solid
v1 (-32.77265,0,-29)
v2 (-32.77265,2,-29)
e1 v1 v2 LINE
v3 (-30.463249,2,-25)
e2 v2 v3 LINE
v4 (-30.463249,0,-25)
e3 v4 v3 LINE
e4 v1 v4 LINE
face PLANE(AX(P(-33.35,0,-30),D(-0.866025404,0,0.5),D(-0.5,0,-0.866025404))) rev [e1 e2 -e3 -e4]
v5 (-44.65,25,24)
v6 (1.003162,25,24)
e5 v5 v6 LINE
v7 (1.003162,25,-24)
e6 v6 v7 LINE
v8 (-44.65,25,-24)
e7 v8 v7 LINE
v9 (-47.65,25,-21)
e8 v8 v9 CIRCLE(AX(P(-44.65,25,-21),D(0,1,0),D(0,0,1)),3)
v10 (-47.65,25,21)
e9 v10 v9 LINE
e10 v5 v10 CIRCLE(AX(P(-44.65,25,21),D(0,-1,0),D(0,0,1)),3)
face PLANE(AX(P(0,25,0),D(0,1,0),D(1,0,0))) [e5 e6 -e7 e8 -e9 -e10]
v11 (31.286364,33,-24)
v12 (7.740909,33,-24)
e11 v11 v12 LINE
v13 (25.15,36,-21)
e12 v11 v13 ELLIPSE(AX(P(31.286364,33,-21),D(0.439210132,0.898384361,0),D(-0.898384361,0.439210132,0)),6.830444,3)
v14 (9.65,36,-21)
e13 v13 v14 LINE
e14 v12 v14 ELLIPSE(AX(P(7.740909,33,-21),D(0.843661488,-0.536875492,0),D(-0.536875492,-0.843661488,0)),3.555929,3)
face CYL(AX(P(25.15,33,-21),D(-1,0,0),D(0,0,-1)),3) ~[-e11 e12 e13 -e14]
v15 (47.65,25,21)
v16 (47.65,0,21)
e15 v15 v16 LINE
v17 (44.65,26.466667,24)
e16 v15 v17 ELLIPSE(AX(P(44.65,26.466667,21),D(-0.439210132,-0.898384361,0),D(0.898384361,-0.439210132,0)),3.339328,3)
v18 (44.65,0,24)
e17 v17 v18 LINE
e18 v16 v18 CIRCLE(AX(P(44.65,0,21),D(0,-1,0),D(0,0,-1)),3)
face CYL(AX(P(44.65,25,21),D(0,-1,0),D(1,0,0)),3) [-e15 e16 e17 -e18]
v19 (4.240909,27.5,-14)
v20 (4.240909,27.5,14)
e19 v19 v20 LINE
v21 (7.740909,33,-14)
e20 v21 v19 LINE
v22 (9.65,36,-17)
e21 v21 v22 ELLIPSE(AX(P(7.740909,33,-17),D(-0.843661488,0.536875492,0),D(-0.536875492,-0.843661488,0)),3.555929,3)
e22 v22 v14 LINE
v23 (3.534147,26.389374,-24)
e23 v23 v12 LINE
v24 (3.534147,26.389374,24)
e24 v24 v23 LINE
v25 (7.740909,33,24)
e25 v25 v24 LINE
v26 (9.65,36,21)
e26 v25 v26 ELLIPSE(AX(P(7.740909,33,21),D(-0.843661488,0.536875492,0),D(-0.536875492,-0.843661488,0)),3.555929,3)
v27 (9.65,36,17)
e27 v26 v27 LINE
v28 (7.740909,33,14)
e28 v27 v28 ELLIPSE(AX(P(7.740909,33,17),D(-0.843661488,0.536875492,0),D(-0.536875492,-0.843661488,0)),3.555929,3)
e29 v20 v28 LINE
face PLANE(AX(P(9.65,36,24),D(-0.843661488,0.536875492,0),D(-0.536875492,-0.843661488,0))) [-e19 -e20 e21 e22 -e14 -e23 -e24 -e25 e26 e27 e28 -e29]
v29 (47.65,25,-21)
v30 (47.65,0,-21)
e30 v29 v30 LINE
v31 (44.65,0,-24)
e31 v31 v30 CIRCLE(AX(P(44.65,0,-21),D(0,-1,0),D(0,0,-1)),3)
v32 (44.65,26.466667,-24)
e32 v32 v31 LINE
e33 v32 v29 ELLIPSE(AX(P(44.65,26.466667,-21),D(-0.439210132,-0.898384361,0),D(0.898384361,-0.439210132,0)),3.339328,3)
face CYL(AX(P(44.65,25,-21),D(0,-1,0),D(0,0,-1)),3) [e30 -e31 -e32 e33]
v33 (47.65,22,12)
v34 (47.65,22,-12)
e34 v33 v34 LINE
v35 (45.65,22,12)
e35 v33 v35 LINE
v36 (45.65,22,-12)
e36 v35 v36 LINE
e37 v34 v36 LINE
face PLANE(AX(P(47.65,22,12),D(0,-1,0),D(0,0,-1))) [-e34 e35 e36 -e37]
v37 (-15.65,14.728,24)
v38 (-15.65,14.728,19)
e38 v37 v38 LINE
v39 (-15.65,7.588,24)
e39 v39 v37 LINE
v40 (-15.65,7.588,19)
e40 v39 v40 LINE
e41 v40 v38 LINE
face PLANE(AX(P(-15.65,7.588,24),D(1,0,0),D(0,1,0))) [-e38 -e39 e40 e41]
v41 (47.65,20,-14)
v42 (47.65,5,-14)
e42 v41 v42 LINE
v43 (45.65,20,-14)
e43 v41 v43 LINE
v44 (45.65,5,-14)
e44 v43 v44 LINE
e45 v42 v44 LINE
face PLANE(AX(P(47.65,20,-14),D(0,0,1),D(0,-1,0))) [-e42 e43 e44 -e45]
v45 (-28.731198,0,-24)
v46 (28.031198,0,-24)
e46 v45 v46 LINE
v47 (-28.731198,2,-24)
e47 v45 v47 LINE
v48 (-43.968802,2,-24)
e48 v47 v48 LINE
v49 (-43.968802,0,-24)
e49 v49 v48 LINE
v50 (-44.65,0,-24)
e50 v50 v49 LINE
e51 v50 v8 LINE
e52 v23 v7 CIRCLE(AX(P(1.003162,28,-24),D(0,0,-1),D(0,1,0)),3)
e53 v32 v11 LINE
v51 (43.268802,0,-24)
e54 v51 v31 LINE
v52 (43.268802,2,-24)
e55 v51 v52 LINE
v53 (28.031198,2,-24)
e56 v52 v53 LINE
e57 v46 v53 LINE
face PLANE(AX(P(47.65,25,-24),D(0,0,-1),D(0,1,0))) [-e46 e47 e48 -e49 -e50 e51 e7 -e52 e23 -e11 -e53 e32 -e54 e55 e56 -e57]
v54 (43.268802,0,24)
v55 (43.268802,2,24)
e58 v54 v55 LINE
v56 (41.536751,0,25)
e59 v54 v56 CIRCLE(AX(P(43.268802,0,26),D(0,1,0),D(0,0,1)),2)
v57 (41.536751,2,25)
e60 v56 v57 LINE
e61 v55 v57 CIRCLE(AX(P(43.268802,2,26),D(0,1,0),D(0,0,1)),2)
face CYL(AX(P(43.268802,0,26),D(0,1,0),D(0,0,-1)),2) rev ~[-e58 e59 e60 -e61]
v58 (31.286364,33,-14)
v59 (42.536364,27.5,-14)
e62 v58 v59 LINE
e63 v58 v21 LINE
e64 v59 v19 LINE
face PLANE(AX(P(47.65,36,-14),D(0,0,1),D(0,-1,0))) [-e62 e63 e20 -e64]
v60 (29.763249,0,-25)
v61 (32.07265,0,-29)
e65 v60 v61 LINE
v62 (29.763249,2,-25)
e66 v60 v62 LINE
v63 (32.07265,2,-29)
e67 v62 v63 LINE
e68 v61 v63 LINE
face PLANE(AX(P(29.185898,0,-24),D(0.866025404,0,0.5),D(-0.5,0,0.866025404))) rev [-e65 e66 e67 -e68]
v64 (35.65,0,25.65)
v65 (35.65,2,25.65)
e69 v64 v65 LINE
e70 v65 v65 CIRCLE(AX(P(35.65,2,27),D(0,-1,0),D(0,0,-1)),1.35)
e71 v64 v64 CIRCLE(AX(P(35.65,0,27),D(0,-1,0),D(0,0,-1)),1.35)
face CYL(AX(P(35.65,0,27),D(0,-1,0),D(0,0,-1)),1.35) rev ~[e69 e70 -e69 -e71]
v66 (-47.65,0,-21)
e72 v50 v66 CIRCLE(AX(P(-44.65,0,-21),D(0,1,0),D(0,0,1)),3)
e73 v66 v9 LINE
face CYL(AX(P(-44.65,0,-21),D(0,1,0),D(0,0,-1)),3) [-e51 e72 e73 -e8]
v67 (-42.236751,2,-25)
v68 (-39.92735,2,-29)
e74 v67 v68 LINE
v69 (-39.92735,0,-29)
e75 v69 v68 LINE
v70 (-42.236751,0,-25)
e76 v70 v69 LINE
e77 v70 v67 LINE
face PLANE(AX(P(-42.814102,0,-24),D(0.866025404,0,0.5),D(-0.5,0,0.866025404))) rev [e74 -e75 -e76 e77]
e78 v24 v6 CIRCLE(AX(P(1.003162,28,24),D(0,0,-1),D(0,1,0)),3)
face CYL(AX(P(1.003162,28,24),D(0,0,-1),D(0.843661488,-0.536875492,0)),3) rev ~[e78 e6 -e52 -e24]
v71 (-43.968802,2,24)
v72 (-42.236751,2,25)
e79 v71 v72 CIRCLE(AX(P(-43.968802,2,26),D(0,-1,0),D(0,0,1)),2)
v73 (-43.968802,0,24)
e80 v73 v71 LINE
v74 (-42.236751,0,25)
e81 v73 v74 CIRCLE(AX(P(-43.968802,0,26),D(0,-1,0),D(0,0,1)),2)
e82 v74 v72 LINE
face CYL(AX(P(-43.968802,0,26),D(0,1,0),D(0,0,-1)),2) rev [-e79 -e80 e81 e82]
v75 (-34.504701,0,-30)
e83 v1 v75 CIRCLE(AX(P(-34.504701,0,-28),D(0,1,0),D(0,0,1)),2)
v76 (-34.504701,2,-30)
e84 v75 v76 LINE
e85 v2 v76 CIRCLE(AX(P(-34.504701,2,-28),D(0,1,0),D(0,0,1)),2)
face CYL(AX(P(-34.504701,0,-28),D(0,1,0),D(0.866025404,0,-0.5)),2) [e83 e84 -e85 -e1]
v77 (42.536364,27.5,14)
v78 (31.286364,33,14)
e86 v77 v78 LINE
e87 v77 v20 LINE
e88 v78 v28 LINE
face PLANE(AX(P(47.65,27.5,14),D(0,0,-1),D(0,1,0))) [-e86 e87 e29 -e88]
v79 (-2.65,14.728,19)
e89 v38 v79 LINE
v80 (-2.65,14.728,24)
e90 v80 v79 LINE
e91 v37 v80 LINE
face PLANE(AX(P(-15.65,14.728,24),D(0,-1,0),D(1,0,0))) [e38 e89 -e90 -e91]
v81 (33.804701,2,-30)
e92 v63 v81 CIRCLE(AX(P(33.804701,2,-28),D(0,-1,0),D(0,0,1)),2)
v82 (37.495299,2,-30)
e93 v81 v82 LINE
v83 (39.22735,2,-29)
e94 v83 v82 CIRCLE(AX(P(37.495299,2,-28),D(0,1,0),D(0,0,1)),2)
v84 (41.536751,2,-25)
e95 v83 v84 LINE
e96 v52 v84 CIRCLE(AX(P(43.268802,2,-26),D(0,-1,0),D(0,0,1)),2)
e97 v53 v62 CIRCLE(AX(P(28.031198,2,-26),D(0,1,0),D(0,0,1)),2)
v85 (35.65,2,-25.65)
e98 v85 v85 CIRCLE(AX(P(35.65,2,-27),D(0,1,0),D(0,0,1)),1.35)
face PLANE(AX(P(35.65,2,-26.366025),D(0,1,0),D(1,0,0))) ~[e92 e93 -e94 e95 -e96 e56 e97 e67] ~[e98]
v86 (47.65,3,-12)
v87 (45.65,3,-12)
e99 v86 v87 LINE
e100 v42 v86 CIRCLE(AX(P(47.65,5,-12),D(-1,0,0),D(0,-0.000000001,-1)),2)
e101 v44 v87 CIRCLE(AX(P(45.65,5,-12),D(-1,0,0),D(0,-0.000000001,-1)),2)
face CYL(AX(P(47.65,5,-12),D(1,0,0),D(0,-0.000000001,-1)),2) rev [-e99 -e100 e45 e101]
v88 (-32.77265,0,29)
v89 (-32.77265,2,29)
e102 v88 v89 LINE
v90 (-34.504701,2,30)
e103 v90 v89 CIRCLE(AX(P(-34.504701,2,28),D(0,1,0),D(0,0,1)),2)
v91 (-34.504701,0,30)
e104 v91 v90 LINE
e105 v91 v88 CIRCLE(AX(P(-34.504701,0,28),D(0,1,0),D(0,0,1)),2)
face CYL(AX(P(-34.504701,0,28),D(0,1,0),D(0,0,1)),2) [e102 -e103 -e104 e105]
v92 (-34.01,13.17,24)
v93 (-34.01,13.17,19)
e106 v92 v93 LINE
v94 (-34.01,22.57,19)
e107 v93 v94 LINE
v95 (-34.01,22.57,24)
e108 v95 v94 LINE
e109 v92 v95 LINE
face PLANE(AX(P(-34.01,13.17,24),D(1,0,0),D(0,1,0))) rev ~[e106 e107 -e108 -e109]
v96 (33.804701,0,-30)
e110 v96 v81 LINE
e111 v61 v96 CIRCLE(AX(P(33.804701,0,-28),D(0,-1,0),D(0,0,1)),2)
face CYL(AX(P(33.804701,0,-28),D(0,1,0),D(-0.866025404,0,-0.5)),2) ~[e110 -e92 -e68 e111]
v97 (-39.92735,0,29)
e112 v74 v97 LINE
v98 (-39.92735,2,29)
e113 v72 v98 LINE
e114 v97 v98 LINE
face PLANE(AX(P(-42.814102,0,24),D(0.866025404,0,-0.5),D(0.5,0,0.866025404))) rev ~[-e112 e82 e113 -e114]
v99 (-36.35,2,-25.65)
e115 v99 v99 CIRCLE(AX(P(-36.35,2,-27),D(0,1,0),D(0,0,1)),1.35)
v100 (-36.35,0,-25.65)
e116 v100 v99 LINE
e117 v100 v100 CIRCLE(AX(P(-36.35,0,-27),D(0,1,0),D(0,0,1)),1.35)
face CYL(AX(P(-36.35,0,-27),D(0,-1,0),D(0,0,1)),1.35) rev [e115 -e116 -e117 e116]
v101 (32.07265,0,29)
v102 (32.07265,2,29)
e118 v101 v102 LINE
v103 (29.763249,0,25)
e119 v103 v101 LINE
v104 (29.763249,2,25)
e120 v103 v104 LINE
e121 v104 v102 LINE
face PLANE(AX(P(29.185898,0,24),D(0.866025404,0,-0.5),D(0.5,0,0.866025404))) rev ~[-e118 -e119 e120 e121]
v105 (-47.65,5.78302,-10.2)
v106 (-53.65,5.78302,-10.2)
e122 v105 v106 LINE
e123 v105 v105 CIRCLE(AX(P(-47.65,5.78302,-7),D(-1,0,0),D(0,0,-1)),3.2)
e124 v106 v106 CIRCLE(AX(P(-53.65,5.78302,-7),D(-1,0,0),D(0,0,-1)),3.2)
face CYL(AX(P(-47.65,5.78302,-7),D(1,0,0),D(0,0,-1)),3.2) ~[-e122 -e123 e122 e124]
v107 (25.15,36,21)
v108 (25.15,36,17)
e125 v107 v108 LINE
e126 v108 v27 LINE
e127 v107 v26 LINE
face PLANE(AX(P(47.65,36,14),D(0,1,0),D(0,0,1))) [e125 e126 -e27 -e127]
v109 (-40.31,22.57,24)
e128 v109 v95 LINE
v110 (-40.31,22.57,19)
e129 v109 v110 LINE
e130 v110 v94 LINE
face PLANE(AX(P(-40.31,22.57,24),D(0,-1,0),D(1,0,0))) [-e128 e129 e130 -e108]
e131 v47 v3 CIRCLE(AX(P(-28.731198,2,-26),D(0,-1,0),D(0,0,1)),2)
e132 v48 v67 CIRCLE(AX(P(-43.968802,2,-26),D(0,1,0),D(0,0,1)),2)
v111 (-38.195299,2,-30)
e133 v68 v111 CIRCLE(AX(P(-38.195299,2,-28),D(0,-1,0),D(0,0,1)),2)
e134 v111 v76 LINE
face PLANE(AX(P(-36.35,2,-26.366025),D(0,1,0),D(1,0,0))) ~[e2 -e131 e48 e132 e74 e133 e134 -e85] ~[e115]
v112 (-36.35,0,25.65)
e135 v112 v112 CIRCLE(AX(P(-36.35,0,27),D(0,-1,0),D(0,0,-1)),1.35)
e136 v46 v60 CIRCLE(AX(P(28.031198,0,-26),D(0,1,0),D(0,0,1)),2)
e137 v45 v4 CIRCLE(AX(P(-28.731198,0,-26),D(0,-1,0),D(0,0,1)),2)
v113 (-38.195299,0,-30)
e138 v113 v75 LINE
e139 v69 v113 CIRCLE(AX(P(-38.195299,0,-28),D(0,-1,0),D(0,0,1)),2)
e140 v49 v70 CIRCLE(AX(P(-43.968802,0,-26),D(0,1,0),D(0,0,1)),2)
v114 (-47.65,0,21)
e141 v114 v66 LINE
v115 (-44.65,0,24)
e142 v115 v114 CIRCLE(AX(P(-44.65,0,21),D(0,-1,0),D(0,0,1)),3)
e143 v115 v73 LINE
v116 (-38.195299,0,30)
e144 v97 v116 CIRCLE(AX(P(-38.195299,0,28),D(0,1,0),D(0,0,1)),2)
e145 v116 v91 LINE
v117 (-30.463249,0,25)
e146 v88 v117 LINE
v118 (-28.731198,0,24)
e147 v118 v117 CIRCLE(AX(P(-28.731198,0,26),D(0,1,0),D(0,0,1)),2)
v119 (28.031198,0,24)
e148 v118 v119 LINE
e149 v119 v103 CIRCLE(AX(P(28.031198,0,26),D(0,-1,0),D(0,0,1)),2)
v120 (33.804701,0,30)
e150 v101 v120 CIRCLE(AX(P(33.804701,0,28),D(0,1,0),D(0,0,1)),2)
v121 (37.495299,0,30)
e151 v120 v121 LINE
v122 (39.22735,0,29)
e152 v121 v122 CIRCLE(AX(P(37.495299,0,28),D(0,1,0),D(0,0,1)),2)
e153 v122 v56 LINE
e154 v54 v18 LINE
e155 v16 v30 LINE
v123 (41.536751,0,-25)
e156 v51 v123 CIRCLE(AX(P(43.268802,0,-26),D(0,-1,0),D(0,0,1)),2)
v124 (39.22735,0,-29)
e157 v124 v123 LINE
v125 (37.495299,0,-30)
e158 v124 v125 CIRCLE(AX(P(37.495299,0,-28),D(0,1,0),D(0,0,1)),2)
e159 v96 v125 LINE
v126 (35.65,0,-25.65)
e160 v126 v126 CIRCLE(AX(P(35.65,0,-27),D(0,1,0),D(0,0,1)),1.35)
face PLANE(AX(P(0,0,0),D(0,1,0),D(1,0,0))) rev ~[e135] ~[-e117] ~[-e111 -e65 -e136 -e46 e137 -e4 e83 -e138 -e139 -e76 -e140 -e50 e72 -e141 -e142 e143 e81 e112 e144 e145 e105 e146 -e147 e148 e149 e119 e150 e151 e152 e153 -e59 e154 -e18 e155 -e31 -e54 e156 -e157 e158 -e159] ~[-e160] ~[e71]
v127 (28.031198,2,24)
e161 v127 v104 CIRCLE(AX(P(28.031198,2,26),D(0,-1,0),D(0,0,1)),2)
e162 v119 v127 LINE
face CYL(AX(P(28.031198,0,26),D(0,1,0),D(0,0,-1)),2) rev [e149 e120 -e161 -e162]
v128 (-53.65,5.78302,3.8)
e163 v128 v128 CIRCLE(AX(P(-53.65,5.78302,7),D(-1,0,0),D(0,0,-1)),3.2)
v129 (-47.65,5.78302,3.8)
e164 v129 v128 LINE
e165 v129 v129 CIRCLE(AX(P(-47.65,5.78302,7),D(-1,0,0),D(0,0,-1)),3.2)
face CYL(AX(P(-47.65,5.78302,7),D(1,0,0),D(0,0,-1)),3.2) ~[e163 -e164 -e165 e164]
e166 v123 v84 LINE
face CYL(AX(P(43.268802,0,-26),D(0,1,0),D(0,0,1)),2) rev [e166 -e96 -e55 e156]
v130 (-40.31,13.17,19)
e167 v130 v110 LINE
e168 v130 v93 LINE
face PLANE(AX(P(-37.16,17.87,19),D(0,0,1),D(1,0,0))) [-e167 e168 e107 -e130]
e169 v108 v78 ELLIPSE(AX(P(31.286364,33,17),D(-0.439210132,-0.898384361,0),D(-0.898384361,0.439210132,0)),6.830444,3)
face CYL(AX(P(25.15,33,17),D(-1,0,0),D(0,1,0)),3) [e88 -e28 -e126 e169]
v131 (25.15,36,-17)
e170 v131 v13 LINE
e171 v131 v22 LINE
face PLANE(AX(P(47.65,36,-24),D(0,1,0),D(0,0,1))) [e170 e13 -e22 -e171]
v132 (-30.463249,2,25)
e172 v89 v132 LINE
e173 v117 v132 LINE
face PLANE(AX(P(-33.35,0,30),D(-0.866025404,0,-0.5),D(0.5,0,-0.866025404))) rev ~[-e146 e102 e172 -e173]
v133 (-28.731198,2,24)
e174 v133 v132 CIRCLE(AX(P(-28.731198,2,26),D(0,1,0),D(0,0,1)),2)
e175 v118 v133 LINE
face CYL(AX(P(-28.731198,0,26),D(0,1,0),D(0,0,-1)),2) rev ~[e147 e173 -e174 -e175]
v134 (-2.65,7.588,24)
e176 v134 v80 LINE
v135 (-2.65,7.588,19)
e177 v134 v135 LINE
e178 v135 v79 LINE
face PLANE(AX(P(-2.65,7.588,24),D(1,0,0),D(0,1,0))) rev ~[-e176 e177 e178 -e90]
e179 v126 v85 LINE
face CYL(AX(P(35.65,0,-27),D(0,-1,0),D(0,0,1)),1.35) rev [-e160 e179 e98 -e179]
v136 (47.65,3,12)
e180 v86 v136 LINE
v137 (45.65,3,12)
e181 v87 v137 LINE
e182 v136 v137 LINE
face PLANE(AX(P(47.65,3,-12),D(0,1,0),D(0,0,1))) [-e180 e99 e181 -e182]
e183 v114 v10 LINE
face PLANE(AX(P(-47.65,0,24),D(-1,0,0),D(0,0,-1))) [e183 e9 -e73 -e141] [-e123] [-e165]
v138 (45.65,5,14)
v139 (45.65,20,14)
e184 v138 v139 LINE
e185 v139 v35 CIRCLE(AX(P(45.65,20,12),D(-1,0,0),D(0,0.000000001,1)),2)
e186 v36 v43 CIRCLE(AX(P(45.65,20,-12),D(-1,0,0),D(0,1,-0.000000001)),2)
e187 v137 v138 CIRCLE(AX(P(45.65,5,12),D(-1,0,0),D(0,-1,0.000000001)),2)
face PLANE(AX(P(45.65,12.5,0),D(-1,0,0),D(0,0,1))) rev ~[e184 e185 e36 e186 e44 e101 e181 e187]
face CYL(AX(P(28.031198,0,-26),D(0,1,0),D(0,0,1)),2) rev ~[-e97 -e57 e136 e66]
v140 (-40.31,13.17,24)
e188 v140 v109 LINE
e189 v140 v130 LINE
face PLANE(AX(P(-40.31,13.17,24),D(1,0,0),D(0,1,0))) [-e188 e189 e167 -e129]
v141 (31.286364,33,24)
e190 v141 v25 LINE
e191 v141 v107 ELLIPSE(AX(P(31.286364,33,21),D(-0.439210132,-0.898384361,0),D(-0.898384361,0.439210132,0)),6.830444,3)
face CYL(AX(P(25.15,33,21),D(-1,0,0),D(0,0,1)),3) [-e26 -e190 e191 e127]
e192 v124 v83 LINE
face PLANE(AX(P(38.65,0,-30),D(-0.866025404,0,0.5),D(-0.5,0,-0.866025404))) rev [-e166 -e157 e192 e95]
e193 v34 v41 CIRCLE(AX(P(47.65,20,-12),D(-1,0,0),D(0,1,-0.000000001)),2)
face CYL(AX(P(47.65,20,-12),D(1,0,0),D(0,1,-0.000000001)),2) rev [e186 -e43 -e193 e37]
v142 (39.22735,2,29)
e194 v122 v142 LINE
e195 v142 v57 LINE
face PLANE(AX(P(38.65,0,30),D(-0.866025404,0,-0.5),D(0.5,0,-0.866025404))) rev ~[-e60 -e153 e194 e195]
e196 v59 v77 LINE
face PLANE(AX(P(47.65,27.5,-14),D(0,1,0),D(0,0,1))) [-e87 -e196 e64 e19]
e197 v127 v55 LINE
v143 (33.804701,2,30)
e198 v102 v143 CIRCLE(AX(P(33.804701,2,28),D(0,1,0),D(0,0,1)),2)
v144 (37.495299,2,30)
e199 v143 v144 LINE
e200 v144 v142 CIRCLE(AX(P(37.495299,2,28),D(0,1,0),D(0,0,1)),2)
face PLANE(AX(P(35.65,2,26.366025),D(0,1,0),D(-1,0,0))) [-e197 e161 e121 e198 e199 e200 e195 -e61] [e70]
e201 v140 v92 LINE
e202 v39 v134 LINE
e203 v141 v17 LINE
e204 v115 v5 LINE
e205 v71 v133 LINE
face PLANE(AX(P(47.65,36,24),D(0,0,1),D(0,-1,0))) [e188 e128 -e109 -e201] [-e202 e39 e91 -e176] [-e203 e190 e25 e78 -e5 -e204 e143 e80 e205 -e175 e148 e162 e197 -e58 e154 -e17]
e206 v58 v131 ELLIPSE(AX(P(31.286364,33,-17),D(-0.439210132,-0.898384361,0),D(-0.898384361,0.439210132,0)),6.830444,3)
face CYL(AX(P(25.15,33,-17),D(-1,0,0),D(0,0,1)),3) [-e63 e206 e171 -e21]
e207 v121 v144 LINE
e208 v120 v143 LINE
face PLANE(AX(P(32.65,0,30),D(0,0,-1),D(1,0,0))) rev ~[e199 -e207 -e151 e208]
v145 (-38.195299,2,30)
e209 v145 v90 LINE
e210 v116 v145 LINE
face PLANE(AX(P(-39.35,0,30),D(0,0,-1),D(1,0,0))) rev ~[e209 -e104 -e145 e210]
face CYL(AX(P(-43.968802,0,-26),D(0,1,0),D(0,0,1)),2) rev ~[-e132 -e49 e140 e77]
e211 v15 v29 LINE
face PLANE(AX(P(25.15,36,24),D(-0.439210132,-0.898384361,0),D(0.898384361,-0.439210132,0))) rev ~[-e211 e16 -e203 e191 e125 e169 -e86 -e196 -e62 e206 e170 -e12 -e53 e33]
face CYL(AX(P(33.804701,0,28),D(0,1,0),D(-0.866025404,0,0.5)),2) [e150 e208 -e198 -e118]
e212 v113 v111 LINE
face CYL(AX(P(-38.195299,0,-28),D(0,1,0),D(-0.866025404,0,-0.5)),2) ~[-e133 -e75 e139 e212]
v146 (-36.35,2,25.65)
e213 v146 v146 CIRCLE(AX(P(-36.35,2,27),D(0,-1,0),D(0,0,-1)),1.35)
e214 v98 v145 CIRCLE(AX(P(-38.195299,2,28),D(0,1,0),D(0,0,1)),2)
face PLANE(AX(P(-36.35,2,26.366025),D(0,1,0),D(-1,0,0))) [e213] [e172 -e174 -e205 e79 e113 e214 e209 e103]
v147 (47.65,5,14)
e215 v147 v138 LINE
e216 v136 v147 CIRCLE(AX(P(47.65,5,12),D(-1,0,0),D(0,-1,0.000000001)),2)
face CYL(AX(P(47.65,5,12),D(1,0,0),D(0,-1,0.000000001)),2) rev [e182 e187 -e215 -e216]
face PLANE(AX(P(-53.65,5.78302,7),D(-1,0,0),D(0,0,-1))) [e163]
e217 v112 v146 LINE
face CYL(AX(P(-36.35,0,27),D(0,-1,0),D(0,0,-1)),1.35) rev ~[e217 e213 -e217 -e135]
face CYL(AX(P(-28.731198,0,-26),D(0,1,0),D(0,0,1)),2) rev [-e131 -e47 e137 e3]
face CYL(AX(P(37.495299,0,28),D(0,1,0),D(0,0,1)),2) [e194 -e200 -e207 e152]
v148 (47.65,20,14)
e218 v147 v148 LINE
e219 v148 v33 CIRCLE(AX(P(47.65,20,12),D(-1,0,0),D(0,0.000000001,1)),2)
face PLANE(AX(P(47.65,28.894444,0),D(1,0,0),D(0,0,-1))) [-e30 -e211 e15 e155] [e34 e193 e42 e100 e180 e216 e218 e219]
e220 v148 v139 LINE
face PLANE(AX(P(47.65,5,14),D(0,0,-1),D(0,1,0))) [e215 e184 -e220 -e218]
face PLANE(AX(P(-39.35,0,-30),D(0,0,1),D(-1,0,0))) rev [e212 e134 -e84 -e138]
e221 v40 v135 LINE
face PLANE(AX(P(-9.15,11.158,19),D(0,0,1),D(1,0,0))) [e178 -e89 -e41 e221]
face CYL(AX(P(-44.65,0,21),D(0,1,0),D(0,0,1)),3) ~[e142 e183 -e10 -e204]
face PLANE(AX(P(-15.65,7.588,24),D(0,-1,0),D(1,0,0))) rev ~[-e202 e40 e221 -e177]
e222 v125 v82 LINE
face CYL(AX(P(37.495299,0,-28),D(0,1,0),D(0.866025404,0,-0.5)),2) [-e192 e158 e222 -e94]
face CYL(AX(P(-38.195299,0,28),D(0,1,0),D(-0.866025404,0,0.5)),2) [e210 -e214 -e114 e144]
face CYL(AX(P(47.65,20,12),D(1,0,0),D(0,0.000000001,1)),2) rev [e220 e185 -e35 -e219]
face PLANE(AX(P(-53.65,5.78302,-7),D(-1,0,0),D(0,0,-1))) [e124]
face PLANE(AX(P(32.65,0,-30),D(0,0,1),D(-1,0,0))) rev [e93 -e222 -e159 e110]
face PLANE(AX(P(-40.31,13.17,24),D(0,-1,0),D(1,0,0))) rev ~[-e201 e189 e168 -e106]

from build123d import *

# Parameters (mm, degrees)
SKETCH_1_W          = 95.3
SKETCH_1_H          = 48
EXTRUDE_1_DEPTH     = 25
EXTRUDE_2_DEPTH     = 45
CUT_EXTRUDE_1_DEPTH = 77.619335027
CUT_EXTRUDE_2_DEPTH = 2
SKETCH_5_R          = 1.35
EXTRUDE_3_DEPTH     = 2
FILLET_1_R          = 2
FILLET_2_R          = 3
SKETCH_6_R          = 3.2
EXTRUDE_4_DEPTH     = 6
SKETCH_7_W          = 13
SKETCH_7_H          = 7.14
SKETCH_7_W_2        = 6.3
SKETCH_7_H_2        = 9.4
CUT_EXTRUDE_3_DEPTH = 5


with BuildPart() as part:
    # 草图1 → 凸台-拉伸1 (new body)
    with BuildSketch(Plane(origin=(0, 0, 0), x_dir=(1, 0, 0), z_dir=(0, 1, 0))):
        Rectangle(SKETCH_1_W, SKETCH_1_H)
    extrude(amount=EXTRUDE_1_DEPTH)

    # 草图2 → 凸台-拉伸2 (add)
    with BuildSketch(Plane(origin=(47.65, 0, 0), x_dir=(0, 0, -1), z_dir=(1, 0, 0))):
        Polygon((-24, 25), (24, 25), (24, 36), (14, 36), (14, 27.5), (-14, 27.5), (-14, 36), (-24, 36), align=None)
    extrude(amount=-EXTRUDE_2_DEPTH)

    # 草图3 → 切除-拉伸1 (cut, through all)
    with BuildSketch(Plane.XY.offset(24)):
        Polygon((2.65, 25), (2.65, 36), (9.65, 36), align=None)
        Polygon((47.65, 25), (47.65, 36), (25.15, 36), align=None)
    extrude(amount=-CUT_EXTRUDE_1_DEPTH, mode=Mode.SUBTRACT)

    # 草图4 → 切除-拉伸2 (cut)
    with BuildSketch(Plane(origin=(47.65, 0, 0), x_dir=(0, 0, -1), z_dir=(1, 0, 0))):
        with BuildLine():
            Line((-12, 22), (12, 22))
            ThreePointArc((12, 22), (13.414213562, 21.414213562), (14, 20))
            Line((14, 20), (14, 5))
            ThreePointArc((14, 5), (13.414213562, 3.585786438), (12, 3))
            Line((12, 3), (-12, 3))
            ThreePointArc((-12, 3), (-13.414213562, 3.585786438), (-14, 5))
            Line((-14, 5), (-14, 20))
            ThreePointArc((-14, 20), (-13.414213562, 21.414213562), (-12, 22))
        make_face()
    extrude(amount=-CUT_EXTRUDE_2_DEPTH, mode=Mode.SUBTRACT)

    # 草图5 → 凸台-拉伸3 (add)
    # profile 1 of 2: a face of its own
    with BuildSketch(Plane.XZ):
        Polygon((29.185898385, 24), (32.65, 30), (38.65, 30), (42.114101615, 24), align=None)
        with Locations(Location((35.65, 27, 0), (0, 0, 270))):
            Circle(SKETCH_5_R, mode=Mode.SUBTRACT)
    # profile 2 of 2: a face of its own
    with BuildSketch(Plane.XZ):
        Polygon((-42.814101615, 24), (-39.35, 30), (-33.35, 30), (-29.885898385, 24), align=None)
        with Locations(Location((-36.35, 27, 0), (0, 0, 270))):
            Circle(SKETCH_5_R, mode=Mode.SUBTRACT)
    extrude_3 = extrude(amount=-EXTRUDE_3_DEPTH)

    # 镜向1: 凸台-拉伸3 across plane
    add(extrude_3.mirror(Plane.XY))

    # 圆角1
    fillet_1_edges = [part.edges().sort_by_distance(p)[0] for p in [
        (-29.885898385, 1, 24),
        (-42.814101615, 1, 24),
        (-39.35, 1, 30),
        (-33.35, 1, 30),
        (29.185898385, 1, -24),
        (42.114101615, 1, -24),
        (38.65, 1, -30),
        (32.65, 1, -30),
        (-42.814101615, 1, -24),
        (-29.885898385, 1, -24),
        (-33.35, 1, -30),
        (-39.35, 1, -30),
        (42.114101615, 1, 24),
        (29.185898385, 1, 24),
        (32.65, 1, 30),
        (38.65, 1, 30),
    ]]
    fillet(fillet_1_edges, radius=FILLET_1_R)

    # 圆角2
    fillet_2_edges = [part.edges().sort_by_distance(p)[0] for p in [
        (2.65, 25, 0),
        (17.4, 36, -24),
        (17.4, 36, -14),
        (17.4, 36, 14),
        (17.4, 36, 24),
        (47.65, 12.5, 24),
        (47.65, 12.5, -24),
        (-47.65, 12.5, 24),
        (-47.65, 12.5, -24),
    ]]
    fillet(fillet_2_edges, radius=FILLET_2_R)

    # 草图6 → 凸台-拉伸4 (add)
    with BuildSketch(Plane.ZY.offset(47.65)):
        with Locations(Location((-7, 5.783019787, 0), (0, 0, 180))):
            Circle(SKETCH_6_R)
        with Locations(Location((7, 5.783019787, 0), (0, 0, 180))):
            Circle(SKETCH_6_R)
    extrude(amount=EXTRUDE_4_DEPTH)

    # 草图7 → 切除-拉伸3 (cut)
    with BuildSketch(Plane.XY.offset(24)):
        with Locations((-9.15, 11.158)):
            Rectangle(SKETCH_7_W, SKETCH_7_H)
        with Locations((-37.16, 17.87)):
            Rectangle(SKETCH_7_W_2, SKETCH_7_H_2)
    extrude(amount=-CUT_EXTRUDE_3_DEPTH, mode=Mode.SUBTRACT)


solid = part.part
